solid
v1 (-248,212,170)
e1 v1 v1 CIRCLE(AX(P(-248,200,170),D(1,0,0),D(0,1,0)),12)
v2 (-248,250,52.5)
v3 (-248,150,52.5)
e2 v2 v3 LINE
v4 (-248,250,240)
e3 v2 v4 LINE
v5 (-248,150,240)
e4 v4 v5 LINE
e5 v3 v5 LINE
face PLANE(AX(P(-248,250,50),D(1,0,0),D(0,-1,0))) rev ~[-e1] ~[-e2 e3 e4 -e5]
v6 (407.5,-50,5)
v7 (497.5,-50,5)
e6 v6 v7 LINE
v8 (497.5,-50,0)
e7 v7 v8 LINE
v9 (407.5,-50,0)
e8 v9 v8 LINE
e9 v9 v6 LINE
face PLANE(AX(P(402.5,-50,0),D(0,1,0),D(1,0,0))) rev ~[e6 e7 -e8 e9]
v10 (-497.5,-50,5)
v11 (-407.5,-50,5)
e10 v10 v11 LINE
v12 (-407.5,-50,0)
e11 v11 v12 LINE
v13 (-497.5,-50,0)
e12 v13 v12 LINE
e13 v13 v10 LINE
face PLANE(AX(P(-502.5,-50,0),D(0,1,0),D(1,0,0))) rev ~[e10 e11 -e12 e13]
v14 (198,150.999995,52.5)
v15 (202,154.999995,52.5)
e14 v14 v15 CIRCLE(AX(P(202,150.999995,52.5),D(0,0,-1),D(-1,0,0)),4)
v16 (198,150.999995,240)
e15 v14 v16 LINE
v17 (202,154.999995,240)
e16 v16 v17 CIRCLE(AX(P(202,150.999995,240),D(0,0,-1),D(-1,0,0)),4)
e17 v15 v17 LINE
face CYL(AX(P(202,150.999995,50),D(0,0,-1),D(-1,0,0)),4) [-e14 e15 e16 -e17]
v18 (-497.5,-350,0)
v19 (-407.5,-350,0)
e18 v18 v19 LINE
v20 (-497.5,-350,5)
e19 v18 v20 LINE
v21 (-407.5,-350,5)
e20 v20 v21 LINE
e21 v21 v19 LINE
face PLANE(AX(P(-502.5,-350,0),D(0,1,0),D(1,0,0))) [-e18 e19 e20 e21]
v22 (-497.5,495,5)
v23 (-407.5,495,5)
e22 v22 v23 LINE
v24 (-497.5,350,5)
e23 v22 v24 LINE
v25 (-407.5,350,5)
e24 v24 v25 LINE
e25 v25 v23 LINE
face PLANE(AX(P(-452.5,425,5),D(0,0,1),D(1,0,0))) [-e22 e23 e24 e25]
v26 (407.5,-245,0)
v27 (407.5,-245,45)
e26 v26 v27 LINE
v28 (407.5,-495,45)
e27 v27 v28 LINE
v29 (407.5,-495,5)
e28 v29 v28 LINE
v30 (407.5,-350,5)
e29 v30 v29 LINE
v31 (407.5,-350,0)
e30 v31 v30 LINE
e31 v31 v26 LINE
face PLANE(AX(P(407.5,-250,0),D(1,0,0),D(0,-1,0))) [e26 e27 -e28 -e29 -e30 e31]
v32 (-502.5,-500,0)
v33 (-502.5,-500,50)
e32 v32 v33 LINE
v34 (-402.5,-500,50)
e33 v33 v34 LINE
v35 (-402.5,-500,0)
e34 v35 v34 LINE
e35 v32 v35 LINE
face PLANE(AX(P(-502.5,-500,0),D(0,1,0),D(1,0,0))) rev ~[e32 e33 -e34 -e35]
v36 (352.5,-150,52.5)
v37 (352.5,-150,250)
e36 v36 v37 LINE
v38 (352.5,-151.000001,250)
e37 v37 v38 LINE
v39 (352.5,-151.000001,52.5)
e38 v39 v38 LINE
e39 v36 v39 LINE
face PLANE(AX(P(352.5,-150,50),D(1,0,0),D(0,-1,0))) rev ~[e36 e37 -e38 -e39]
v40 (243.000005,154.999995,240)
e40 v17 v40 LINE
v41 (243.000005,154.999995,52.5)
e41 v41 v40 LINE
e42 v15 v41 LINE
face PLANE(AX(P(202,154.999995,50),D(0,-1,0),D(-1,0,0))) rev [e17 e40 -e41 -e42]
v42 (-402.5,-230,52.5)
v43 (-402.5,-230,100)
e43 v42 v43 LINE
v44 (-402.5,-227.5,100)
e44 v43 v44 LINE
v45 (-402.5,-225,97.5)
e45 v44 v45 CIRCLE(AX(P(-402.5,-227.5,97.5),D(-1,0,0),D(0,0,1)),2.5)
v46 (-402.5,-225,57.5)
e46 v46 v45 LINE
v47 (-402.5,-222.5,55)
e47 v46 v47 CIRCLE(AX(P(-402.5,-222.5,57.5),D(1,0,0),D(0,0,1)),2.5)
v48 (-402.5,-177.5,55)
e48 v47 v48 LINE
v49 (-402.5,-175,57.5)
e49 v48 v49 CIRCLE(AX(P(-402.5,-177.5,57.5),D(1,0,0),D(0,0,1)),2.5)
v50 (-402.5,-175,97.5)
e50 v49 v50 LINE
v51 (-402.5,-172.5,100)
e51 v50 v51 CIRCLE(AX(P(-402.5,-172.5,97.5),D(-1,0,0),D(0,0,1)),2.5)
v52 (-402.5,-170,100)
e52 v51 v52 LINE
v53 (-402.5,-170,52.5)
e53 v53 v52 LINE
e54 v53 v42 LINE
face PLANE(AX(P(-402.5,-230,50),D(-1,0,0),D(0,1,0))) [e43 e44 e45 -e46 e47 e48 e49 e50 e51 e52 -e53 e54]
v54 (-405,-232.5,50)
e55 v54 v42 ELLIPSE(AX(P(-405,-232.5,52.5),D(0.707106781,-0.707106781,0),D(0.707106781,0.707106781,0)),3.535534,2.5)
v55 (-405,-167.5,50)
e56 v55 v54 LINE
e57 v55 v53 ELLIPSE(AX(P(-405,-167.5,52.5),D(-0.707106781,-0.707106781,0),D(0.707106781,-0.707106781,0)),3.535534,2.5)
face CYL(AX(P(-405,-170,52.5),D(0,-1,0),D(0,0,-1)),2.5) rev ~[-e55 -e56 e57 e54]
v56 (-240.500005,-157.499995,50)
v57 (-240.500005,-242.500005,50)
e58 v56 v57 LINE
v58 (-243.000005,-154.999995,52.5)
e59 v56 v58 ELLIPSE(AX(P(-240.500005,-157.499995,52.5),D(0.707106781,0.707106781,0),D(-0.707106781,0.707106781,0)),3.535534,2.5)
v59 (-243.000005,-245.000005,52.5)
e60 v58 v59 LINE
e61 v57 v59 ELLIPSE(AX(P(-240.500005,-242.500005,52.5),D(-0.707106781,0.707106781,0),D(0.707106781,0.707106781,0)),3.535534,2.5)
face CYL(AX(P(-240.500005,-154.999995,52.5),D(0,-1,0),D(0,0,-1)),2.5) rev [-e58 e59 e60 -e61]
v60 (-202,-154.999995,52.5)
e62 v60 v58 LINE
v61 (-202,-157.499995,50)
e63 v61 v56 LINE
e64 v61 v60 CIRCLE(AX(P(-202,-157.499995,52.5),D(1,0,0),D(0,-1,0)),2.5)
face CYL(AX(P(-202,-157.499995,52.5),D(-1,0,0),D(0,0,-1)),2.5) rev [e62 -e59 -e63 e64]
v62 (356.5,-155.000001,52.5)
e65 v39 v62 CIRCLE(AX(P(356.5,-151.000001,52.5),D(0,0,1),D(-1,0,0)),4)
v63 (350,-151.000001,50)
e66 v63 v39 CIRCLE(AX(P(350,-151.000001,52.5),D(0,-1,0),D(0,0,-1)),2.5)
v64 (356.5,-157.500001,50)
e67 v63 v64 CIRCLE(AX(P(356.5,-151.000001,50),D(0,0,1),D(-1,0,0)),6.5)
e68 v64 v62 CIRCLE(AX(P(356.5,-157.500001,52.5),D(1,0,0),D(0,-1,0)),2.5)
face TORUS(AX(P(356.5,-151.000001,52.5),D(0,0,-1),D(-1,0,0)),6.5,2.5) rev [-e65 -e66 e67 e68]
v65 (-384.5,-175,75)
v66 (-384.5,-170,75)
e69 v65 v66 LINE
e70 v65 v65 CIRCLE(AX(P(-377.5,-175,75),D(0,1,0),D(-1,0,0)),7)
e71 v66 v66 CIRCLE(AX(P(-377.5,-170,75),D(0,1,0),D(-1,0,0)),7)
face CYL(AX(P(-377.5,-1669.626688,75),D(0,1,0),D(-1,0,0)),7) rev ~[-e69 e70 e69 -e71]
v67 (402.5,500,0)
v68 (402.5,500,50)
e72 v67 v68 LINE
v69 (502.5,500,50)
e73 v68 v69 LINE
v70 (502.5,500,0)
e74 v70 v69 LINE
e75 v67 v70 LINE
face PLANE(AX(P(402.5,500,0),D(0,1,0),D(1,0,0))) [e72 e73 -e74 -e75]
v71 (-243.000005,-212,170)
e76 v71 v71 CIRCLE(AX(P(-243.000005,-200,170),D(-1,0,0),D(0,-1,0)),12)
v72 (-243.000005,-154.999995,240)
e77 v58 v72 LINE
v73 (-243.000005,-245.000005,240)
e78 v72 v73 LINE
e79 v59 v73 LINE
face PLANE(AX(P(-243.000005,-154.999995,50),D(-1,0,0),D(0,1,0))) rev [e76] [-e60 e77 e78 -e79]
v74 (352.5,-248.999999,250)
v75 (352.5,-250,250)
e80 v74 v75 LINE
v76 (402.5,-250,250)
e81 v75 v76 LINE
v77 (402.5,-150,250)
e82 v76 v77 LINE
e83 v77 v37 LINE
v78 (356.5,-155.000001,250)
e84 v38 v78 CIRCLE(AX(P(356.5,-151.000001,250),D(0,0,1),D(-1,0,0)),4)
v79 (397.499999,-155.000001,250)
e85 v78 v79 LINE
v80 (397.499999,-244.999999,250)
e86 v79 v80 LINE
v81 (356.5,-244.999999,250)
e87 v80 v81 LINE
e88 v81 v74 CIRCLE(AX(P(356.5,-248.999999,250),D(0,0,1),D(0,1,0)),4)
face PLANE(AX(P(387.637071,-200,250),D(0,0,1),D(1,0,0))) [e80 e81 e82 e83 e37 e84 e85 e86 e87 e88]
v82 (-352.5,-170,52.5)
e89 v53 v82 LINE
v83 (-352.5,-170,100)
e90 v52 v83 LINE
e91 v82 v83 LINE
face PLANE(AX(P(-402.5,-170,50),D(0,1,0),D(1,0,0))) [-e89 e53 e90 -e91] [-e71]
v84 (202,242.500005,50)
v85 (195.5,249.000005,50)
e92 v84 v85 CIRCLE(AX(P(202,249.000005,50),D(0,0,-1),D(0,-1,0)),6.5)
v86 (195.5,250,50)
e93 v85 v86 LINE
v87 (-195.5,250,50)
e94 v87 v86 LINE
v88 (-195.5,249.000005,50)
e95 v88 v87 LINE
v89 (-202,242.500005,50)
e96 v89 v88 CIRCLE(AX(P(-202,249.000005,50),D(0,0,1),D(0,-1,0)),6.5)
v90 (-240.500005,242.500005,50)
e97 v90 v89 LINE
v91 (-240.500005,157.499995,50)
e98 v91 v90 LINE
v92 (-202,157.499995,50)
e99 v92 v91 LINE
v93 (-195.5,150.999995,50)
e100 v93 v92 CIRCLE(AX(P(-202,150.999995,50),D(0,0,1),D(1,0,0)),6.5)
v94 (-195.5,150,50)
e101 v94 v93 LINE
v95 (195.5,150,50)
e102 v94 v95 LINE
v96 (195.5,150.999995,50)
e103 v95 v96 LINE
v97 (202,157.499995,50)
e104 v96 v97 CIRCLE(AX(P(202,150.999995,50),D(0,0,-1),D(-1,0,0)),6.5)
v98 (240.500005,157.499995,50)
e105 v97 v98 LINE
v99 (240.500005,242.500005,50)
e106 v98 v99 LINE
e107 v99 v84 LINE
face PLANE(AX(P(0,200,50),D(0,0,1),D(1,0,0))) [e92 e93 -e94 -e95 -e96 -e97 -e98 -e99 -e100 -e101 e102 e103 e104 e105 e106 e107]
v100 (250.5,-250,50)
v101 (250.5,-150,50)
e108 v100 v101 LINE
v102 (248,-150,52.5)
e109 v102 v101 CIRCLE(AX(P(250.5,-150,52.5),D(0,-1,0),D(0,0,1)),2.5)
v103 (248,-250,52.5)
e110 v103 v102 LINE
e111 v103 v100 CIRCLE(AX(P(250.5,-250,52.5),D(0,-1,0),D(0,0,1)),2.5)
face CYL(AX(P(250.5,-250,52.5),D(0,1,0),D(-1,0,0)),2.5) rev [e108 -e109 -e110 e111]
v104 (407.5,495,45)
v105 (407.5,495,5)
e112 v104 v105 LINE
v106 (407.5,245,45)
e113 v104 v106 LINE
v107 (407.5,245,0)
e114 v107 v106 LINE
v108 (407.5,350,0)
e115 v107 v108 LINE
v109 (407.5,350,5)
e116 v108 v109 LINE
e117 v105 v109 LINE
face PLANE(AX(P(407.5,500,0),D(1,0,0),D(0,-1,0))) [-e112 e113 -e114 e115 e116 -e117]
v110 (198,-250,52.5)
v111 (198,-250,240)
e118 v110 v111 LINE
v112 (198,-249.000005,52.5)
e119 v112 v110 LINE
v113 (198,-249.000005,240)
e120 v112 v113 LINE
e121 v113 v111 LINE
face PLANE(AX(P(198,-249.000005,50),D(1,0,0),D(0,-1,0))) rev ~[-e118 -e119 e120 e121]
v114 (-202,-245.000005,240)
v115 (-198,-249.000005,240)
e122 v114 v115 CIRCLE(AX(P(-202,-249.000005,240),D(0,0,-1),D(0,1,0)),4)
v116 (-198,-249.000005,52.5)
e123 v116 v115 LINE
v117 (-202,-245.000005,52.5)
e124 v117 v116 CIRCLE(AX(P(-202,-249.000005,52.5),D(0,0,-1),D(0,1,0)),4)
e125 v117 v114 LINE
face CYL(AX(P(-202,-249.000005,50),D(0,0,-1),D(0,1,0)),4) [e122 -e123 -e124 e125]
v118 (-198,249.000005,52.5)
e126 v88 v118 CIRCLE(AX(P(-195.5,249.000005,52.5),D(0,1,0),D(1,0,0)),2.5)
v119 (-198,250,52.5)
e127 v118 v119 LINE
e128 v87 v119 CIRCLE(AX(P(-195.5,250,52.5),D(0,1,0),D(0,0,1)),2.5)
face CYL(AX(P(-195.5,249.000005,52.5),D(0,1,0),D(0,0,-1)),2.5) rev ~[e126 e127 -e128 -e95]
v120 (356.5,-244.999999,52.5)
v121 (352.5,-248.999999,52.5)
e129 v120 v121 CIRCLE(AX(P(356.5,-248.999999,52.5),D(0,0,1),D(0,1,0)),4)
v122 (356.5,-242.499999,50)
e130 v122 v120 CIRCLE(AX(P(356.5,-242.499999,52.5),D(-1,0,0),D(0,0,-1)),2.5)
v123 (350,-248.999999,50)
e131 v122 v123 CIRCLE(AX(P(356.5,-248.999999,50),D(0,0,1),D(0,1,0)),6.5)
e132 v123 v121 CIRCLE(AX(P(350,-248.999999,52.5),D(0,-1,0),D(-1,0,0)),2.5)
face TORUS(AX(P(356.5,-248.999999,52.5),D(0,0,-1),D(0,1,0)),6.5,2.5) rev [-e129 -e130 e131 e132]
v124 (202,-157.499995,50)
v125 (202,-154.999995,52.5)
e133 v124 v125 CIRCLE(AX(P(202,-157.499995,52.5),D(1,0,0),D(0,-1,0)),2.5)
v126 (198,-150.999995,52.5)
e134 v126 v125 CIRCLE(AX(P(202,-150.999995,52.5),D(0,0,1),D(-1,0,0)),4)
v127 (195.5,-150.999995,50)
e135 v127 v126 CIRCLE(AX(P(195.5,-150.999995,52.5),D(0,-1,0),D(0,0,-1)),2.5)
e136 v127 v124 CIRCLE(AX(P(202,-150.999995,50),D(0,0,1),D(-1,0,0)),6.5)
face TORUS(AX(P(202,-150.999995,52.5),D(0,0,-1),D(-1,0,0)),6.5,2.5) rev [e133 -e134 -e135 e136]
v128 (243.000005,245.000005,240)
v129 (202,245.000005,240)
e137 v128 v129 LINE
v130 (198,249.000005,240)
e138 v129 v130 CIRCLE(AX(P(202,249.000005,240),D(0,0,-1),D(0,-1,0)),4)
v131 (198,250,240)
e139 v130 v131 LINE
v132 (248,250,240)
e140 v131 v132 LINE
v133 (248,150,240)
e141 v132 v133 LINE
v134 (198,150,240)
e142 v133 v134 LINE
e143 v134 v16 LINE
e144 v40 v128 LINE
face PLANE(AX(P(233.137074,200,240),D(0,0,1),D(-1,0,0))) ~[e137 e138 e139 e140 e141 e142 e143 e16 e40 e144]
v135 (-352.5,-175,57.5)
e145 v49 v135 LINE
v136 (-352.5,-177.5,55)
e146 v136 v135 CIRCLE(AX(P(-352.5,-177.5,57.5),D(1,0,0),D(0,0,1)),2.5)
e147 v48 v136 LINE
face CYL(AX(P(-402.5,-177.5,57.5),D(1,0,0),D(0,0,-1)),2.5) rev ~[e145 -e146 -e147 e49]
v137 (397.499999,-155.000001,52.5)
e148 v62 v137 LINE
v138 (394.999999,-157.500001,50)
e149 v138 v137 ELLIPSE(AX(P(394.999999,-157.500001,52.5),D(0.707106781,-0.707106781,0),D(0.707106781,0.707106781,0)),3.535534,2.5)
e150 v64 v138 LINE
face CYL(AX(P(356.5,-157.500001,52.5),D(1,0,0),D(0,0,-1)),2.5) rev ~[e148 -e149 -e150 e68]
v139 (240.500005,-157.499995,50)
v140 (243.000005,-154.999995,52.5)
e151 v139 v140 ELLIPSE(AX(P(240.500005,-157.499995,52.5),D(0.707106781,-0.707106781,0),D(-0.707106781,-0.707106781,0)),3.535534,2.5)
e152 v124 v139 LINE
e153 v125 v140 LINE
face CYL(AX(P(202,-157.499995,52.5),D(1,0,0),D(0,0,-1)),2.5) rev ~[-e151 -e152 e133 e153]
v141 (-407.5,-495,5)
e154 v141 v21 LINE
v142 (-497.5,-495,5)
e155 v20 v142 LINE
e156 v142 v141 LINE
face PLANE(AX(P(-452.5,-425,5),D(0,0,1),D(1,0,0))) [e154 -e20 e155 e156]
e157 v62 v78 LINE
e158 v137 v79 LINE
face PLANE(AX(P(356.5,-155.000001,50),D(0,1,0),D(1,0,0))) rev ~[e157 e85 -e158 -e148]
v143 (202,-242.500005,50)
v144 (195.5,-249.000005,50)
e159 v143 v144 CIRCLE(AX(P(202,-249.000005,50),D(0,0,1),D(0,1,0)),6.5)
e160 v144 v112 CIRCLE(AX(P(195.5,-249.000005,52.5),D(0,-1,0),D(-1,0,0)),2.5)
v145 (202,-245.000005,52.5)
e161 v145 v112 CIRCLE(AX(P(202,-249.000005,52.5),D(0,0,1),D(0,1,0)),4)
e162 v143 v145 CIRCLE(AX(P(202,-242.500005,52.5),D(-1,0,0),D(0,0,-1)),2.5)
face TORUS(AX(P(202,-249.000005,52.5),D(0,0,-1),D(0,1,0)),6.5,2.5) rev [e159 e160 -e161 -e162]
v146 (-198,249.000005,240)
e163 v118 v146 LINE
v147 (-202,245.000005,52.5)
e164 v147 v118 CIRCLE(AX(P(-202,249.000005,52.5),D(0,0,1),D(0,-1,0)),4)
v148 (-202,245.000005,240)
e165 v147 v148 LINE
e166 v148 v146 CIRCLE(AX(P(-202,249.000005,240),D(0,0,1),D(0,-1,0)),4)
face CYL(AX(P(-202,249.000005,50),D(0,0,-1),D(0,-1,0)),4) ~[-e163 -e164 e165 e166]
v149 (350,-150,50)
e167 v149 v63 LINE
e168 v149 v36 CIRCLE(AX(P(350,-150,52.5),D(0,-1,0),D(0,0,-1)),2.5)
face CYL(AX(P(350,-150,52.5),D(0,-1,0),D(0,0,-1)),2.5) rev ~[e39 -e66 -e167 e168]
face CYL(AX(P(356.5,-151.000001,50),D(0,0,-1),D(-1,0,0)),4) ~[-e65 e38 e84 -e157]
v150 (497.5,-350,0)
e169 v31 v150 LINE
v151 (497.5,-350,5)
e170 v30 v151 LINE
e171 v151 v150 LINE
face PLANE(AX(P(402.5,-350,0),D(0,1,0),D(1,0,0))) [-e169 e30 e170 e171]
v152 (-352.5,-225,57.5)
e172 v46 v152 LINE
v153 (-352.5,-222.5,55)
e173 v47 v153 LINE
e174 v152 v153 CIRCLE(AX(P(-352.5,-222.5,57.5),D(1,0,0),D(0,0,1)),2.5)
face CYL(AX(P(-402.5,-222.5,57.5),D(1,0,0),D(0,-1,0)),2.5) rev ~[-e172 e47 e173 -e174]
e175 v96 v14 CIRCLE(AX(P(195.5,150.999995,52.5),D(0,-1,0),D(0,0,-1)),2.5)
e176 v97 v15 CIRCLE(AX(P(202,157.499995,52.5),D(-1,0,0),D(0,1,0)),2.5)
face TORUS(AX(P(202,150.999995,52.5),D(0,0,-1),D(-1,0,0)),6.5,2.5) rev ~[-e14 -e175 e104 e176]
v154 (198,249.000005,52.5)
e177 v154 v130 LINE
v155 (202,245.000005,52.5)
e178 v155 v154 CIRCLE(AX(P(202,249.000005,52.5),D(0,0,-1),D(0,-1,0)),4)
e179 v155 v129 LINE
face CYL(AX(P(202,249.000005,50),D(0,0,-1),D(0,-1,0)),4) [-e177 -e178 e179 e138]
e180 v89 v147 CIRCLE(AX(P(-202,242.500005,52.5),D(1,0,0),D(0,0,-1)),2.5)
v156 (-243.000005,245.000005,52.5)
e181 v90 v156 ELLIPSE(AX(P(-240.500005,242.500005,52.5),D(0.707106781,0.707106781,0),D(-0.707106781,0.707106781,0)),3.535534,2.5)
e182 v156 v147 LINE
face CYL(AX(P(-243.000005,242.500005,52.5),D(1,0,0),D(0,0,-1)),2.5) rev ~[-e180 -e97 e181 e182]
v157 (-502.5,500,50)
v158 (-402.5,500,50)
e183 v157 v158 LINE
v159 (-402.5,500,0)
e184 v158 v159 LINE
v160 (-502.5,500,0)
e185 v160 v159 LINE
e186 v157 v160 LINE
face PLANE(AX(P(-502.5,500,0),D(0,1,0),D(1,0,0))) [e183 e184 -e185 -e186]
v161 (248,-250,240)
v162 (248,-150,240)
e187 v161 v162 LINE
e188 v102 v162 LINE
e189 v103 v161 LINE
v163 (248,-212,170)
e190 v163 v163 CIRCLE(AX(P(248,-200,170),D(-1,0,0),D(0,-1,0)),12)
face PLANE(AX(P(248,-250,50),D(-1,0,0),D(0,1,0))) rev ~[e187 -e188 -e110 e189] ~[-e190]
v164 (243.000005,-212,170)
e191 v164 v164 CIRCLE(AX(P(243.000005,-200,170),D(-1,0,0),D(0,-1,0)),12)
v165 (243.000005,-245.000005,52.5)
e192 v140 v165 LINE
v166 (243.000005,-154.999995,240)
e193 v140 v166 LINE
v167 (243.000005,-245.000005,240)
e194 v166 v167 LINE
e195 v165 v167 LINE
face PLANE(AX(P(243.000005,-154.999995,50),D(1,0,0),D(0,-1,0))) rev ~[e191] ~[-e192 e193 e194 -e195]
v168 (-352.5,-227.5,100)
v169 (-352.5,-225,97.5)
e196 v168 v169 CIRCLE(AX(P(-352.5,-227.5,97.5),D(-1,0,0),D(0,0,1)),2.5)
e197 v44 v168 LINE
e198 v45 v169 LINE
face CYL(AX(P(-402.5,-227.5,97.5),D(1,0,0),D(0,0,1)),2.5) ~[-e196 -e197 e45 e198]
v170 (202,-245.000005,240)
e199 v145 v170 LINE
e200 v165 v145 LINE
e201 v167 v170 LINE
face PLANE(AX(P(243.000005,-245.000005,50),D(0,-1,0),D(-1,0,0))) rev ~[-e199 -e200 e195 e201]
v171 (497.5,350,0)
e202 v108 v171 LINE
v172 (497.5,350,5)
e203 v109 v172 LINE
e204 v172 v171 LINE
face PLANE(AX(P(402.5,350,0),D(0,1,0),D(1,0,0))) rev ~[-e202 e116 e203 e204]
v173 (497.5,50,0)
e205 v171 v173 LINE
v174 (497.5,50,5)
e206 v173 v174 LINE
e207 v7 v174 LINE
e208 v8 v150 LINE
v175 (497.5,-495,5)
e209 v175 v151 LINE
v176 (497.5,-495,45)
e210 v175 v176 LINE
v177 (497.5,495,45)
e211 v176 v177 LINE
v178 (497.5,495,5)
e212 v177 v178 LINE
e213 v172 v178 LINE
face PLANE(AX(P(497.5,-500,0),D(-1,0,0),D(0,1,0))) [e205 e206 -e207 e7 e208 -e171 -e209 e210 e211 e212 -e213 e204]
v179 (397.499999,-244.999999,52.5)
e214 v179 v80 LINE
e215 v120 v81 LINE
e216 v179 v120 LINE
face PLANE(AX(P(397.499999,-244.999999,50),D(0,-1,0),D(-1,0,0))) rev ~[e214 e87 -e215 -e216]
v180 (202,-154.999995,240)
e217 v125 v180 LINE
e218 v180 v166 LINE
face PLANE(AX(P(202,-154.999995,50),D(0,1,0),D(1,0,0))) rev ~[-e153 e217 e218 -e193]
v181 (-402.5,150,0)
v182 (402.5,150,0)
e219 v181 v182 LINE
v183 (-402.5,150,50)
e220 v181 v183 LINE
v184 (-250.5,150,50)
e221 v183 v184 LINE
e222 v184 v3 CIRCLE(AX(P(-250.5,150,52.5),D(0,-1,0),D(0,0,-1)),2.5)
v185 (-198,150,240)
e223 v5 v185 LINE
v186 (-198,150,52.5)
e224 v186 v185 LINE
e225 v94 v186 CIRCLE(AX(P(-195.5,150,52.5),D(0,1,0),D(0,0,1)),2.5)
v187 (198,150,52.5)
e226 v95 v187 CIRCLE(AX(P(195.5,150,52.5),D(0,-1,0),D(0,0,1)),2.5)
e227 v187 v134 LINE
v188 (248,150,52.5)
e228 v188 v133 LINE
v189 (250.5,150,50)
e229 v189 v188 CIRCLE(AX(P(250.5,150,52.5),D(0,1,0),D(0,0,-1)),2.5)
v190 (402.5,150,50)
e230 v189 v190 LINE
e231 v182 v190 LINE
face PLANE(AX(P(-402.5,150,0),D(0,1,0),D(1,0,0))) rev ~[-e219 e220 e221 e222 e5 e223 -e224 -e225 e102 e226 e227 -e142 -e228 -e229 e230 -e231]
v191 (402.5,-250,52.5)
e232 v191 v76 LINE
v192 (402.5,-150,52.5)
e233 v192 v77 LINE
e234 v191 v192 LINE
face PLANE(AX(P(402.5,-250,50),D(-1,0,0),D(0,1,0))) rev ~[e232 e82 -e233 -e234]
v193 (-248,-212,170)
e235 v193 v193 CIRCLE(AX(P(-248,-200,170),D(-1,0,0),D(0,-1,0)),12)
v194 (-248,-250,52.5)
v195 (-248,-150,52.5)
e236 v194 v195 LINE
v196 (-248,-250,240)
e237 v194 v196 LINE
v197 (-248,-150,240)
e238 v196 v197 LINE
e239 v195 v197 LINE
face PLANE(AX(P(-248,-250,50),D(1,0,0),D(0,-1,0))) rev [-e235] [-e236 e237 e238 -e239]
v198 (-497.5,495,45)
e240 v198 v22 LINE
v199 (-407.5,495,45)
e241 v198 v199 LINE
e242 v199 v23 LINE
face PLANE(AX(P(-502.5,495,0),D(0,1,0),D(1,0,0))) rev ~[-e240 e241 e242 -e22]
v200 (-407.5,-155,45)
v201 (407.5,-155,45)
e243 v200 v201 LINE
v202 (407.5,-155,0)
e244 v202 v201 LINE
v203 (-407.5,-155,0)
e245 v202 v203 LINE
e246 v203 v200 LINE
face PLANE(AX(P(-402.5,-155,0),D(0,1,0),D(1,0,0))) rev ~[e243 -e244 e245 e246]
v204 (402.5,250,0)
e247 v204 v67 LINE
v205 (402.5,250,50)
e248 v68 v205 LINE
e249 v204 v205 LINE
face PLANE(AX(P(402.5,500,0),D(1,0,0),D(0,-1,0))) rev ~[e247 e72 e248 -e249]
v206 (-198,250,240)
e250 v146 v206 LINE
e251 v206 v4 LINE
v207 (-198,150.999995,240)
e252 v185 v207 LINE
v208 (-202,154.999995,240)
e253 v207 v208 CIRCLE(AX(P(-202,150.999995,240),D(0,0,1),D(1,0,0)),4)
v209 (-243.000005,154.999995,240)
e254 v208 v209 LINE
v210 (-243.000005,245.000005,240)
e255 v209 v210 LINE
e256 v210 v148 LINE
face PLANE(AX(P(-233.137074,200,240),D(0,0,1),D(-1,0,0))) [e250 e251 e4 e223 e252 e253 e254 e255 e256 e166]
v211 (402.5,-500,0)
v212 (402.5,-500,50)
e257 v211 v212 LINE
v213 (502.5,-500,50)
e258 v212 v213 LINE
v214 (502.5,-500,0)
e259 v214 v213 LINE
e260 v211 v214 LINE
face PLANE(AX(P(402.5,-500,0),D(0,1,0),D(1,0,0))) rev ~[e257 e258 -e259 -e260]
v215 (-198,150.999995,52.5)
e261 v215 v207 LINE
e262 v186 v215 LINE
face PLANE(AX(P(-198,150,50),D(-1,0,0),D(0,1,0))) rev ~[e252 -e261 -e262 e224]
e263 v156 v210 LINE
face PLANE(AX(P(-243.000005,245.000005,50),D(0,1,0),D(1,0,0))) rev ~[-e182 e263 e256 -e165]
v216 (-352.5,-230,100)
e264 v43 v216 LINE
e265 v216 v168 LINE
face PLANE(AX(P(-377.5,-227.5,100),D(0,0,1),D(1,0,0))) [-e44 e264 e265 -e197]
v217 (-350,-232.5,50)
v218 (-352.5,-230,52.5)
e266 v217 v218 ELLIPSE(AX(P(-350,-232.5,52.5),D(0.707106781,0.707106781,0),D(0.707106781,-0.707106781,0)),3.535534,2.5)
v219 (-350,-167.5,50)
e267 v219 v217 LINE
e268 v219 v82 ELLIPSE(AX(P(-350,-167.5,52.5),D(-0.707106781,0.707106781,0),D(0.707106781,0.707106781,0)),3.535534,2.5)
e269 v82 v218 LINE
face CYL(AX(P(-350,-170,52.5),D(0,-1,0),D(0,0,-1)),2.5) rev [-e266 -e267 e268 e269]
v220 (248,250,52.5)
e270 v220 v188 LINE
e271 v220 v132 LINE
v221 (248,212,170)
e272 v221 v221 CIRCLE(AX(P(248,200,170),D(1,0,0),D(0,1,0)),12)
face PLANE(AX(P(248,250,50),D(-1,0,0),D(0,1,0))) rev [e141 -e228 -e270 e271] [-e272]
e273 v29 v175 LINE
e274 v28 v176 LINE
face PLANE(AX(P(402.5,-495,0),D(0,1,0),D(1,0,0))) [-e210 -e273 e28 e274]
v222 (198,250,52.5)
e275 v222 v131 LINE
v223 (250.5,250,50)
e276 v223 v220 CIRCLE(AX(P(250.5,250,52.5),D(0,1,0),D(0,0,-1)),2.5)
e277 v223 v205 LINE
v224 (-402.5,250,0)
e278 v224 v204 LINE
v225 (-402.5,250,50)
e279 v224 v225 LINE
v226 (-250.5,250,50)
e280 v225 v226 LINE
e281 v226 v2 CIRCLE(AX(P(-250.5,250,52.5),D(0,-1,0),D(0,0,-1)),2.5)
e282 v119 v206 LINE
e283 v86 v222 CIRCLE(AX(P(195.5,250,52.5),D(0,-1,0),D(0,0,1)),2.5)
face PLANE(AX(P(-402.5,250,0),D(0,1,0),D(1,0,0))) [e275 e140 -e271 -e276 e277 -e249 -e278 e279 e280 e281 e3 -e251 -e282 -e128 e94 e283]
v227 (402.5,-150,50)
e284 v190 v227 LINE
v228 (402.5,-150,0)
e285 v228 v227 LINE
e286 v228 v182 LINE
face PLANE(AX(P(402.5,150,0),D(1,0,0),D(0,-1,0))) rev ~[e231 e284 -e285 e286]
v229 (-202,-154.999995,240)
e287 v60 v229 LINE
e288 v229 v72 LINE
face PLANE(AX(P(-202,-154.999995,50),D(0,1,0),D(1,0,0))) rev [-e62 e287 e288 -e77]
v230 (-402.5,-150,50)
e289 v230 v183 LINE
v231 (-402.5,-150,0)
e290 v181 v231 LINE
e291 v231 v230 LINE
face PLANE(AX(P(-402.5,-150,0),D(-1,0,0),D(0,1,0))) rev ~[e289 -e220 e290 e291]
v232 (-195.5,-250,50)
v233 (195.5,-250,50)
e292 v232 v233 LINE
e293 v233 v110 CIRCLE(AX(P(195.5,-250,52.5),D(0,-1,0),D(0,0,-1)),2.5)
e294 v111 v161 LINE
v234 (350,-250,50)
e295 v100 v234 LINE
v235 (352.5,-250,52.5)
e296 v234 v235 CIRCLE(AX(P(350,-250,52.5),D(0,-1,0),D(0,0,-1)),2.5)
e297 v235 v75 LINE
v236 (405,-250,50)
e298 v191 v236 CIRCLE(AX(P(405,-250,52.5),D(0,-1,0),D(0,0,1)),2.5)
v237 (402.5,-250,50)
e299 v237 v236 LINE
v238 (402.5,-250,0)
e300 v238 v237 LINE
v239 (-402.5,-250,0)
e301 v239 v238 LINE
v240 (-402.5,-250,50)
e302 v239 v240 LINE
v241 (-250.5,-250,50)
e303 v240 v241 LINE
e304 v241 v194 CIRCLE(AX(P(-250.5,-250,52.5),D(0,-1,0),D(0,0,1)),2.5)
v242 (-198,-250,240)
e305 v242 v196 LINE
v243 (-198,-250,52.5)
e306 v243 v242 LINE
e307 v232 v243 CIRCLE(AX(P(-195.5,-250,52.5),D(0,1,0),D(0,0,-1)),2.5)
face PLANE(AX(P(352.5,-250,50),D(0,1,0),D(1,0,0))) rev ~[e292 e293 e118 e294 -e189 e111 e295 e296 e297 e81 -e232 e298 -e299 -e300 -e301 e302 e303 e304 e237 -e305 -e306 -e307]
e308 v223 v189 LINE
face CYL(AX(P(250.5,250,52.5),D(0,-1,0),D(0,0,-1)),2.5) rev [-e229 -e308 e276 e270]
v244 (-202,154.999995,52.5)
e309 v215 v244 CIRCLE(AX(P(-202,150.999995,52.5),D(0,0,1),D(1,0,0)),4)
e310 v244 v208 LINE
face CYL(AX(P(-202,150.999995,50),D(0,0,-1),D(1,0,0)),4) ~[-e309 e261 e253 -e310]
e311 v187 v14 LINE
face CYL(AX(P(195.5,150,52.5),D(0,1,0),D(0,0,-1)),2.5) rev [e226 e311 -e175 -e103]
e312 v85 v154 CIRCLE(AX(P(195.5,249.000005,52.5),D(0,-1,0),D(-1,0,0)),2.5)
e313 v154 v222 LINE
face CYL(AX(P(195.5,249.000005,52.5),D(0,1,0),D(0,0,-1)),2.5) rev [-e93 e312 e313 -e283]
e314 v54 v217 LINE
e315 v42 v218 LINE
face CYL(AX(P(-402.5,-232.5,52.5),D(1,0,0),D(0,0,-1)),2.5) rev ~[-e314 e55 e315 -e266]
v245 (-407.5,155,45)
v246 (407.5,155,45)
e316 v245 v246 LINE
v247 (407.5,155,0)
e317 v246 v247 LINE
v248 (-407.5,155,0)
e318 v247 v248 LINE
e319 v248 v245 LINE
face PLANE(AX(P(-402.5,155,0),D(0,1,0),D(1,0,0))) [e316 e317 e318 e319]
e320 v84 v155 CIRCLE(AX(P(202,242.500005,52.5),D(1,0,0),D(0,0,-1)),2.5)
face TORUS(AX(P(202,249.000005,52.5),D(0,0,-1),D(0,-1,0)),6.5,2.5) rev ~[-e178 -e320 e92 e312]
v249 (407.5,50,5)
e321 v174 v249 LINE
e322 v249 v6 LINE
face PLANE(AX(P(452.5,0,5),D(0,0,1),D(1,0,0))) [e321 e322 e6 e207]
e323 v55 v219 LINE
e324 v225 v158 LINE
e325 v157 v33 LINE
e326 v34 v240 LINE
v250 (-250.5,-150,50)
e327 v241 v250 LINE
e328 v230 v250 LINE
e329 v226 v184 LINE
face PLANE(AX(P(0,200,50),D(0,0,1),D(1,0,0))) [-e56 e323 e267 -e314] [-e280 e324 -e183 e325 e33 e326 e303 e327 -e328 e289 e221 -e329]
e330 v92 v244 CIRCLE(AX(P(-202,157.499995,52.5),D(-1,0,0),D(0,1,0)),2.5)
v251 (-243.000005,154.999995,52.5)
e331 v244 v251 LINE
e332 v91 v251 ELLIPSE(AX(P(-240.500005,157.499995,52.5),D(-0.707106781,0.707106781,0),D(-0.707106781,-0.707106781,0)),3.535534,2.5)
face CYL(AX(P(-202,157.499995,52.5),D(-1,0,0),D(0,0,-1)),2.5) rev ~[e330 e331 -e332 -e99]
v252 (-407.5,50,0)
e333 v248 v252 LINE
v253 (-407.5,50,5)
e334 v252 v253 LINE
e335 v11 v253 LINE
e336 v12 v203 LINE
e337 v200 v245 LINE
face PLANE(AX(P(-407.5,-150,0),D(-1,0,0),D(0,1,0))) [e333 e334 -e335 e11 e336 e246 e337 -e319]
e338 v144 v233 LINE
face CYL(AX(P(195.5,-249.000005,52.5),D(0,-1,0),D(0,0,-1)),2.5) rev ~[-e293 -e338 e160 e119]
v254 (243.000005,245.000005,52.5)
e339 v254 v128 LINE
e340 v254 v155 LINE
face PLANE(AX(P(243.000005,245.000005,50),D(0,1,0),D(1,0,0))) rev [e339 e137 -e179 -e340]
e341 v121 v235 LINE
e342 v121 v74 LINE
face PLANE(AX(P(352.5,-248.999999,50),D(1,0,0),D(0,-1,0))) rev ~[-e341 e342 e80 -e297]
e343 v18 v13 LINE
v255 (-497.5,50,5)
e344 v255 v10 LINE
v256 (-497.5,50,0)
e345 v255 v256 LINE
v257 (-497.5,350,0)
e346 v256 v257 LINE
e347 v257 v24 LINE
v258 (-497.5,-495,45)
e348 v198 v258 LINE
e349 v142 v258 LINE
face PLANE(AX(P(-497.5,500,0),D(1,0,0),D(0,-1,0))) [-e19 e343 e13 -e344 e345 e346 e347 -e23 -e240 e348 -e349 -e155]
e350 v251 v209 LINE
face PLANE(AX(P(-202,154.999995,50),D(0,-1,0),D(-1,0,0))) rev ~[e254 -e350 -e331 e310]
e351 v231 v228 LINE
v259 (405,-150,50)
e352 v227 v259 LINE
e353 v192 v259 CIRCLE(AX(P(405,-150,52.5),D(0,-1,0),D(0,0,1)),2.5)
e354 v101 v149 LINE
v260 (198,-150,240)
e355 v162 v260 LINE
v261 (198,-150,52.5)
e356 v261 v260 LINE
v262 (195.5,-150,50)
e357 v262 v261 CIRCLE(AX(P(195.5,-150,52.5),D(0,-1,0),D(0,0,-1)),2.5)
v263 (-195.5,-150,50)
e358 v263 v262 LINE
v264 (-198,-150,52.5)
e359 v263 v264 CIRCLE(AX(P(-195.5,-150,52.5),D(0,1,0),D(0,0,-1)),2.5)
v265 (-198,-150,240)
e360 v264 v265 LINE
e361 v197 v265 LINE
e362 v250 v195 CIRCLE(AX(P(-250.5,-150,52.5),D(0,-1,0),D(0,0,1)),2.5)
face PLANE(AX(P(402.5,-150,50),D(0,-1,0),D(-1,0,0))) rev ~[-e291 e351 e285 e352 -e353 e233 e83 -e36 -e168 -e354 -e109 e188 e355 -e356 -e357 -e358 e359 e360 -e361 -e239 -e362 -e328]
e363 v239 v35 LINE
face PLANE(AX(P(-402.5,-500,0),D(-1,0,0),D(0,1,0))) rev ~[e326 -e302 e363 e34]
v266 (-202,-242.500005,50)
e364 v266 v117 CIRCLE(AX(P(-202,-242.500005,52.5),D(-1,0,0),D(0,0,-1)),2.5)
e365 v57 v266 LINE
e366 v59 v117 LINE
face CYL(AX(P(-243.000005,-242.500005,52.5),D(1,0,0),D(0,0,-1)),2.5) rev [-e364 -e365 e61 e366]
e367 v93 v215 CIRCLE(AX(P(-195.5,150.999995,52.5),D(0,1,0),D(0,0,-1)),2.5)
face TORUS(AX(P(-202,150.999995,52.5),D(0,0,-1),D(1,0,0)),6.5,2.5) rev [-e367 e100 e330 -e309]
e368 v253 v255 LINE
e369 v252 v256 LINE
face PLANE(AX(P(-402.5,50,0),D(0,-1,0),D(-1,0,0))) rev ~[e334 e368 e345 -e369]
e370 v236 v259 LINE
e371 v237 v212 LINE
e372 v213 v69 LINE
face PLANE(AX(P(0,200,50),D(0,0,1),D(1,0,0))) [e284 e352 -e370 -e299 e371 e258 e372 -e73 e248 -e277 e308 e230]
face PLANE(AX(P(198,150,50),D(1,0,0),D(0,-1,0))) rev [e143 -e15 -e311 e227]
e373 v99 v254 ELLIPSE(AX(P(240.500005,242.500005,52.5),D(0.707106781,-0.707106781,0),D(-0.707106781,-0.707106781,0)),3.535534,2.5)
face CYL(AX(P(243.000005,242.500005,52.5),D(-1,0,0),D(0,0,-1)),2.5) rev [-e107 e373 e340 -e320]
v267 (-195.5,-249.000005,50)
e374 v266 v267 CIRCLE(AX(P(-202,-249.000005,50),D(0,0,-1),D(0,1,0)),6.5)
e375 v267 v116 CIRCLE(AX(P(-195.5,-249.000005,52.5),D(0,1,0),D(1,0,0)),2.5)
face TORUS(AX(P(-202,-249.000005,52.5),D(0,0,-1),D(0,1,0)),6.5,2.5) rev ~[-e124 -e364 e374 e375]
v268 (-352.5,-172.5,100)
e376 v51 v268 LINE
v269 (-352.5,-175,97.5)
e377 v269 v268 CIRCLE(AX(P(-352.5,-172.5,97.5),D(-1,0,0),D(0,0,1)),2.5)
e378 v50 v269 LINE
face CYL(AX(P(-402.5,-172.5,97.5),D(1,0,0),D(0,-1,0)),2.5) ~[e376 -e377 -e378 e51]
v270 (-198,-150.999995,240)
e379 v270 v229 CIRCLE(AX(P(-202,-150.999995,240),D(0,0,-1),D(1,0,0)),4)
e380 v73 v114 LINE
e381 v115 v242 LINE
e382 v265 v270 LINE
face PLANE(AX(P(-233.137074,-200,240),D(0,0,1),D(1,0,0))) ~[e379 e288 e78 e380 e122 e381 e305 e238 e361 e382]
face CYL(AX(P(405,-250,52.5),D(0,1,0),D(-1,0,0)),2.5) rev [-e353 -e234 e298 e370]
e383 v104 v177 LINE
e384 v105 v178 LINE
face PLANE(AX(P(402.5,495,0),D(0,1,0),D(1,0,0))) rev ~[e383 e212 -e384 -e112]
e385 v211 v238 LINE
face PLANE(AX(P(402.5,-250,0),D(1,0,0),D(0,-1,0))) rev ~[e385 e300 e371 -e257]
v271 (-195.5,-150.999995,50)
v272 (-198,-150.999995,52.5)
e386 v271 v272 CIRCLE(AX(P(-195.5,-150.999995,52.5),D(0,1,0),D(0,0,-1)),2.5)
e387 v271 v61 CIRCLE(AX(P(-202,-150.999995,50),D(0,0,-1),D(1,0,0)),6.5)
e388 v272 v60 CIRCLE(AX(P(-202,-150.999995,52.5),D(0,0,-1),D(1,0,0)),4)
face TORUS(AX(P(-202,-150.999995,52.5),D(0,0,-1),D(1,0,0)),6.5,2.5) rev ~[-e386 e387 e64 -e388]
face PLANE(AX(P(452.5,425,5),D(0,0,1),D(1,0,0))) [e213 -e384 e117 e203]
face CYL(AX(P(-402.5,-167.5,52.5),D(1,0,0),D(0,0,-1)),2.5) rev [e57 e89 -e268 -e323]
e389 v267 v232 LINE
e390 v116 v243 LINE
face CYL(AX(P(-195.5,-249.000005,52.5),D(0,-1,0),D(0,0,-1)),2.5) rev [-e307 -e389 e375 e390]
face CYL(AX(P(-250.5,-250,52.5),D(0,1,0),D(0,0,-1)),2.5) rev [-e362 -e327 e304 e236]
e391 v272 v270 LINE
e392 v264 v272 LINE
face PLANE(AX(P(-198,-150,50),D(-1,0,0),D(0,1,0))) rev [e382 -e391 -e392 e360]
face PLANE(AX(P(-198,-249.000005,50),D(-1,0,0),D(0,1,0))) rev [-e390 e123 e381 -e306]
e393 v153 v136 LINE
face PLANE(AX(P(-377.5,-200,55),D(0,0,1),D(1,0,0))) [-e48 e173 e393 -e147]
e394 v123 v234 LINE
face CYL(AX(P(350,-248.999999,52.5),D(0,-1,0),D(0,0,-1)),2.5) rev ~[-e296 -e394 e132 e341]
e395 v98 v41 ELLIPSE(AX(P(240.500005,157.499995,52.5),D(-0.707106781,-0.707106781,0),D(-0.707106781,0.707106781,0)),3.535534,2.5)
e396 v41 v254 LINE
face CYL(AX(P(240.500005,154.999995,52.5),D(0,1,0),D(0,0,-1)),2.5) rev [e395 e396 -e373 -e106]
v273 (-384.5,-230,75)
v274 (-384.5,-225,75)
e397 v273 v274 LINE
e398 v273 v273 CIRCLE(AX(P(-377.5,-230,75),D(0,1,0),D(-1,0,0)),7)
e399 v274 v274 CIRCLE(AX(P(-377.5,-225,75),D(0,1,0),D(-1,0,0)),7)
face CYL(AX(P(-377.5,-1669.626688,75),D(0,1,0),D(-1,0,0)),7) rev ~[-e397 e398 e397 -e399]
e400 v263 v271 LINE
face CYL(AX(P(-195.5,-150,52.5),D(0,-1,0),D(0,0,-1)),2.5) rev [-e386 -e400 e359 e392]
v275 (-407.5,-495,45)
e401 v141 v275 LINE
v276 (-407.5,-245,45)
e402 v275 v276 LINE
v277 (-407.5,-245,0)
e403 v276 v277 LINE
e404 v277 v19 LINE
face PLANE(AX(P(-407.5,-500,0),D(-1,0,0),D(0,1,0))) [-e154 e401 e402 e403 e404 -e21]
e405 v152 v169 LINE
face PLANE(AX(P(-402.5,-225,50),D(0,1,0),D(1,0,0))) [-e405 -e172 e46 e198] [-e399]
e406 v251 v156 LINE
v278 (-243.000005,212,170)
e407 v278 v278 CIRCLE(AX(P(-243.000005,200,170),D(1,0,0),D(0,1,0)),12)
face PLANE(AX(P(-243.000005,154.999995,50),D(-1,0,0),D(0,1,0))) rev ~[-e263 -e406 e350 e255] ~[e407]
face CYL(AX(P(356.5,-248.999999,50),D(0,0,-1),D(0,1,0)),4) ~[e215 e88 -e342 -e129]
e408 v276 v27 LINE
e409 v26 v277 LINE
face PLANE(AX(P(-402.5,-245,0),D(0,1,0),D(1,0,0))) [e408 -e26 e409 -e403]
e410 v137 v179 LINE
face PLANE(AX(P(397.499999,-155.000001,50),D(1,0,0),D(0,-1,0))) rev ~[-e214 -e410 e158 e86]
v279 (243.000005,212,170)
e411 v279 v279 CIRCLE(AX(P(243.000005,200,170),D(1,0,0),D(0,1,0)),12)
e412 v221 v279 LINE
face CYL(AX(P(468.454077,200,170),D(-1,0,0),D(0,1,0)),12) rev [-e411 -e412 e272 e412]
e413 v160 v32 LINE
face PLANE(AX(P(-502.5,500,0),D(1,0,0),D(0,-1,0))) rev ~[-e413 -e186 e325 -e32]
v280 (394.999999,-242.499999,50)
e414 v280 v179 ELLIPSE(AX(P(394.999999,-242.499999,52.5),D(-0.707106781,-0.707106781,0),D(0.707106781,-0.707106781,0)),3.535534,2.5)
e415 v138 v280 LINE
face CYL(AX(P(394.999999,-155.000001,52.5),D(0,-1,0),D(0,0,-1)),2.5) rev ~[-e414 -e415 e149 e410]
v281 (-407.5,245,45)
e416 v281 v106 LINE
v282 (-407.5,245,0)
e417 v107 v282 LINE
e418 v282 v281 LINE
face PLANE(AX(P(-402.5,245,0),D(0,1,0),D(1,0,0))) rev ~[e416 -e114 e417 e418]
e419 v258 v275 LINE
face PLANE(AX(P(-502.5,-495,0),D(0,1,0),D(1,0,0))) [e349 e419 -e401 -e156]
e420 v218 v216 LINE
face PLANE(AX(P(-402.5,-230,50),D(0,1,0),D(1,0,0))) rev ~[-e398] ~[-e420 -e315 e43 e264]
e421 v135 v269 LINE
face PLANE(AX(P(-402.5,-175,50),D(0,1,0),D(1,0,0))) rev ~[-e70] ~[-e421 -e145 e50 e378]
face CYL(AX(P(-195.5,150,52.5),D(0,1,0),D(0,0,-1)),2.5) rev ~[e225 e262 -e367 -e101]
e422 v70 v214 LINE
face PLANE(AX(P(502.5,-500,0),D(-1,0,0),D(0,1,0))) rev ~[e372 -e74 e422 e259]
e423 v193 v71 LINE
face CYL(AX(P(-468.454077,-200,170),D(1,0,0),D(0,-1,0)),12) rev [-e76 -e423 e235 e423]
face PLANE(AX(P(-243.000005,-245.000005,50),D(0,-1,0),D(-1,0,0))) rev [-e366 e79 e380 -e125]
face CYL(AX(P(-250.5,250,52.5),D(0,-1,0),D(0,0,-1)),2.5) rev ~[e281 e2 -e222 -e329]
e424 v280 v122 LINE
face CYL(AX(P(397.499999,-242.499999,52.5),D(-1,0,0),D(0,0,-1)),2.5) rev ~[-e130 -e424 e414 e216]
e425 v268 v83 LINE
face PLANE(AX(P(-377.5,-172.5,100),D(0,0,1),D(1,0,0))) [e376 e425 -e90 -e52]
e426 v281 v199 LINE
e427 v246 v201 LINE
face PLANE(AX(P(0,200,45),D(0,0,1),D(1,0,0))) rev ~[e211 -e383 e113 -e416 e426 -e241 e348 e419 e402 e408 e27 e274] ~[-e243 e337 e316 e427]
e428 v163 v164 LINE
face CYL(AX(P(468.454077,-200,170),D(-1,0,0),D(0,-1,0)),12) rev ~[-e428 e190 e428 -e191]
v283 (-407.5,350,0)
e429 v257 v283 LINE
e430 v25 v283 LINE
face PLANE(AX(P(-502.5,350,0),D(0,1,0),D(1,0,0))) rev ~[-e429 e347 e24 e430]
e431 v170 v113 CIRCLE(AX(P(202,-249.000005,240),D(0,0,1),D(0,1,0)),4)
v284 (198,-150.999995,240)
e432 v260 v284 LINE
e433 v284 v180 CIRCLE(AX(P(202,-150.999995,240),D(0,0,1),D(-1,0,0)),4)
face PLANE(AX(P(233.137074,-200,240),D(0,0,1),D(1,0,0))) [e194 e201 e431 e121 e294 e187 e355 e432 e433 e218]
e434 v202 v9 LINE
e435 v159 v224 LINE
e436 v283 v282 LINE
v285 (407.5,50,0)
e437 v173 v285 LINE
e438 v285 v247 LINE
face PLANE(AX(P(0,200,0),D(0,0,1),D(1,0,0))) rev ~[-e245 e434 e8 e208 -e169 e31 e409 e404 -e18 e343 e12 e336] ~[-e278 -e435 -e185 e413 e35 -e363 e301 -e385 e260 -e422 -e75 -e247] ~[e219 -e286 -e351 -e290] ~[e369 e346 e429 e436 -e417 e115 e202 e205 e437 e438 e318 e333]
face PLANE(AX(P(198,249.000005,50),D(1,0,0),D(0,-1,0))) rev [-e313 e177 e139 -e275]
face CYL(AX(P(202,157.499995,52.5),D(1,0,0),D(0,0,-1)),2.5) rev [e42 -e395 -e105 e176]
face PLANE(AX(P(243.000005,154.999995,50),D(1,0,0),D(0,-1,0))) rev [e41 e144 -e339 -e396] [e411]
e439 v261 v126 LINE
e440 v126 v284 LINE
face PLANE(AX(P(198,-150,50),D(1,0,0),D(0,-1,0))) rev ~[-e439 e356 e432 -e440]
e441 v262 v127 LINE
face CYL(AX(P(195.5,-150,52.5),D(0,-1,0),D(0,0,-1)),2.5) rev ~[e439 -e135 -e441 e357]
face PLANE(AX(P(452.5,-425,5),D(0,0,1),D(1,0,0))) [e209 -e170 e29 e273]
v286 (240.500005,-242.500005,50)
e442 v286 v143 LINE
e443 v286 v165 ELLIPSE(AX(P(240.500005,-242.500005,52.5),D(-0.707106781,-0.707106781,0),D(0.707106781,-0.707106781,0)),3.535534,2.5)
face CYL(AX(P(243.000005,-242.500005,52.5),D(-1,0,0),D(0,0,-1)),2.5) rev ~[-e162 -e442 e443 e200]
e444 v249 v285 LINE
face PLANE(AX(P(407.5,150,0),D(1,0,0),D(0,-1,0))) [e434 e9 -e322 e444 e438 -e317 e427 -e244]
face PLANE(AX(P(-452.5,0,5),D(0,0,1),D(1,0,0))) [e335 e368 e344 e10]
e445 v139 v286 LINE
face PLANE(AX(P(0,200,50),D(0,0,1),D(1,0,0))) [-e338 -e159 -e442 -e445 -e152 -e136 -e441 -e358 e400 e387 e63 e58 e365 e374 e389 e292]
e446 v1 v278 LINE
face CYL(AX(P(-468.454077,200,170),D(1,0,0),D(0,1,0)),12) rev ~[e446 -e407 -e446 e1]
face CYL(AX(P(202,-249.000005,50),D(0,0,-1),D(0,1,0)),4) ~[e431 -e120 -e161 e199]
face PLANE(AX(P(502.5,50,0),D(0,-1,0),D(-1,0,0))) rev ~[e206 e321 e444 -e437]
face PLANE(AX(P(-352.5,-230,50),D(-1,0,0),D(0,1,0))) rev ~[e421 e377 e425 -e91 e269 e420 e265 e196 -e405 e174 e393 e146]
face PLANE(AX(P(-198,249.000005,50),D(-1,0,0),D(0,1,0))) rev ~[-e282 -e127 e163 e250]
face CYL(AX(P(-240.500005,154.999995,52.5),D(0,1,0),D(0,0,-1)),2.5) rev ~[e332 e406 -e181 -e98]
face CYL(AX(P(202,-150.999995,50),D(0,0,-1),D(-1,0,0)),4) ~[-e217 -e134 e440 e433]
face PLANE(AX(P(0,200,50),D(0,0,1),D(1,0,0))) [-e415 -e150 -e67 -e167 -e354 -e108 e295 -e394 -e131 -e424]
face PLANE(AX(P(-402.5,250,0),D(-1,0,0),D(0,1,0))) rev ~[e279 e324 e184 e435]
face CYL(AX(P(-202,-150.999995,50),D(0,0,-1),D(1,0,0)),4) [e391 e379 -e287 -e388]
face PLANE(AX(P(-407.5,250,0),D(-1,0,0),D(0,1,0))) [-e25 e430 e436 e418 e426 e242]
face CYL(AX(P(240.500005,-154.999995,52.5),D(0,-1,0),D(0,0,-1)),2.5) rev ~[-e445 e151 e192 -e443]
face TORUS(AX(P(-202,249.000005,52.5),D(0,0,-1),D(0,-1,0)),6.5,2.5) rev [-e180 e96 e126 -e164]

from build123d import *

# Parameters (mm, degrees)
F0_W      = 805
F0_H      = 100
F0_W_2    = 100
F0_H_2    = 150
F1_DEPTH  = 50
F2_T      = -5
F3_DEPTH  = 5
F5_DEPTH  = 190
F7_D      = 24
F11_W     = 50
F11_H     = 50
F12_DEPTH = 5
F11_H_2   = 5
F13_DEPTH = 50
F14_DEPTH = 200
F16_D     = 14
F17_R     = 2.5


with BuildPart() as f1:
    # F0 (on Top) → F1 (new body)
    with BuildSketch(Plane.XY):
        with Locations((0, 200)):
            Rectangle(F0_W, F0_H)
        Polygon((-402.5, 50), (-402.5, 150), (-402.5, 250), (-402.5, 350), (-502.5, 350), (-502.5, 50), align=None)
        Polygon((402.5, 250), (402.5, 150), (402.5, 50), (502.5, 50), (502.5, 350), (402.5, 350), align=None)
        Polygon((-402.5, 0), (-402.5, 50), (-502.5, 50), (-502.5, 0), (-502.5, -50), (-402.5, -50), align=None)
        Polygon((502.5, 50), (402.5, 50), (402.5, 0), (402.5, -50), (502.5, -50), (502.5, 0), align=None)
        with Locations((-452.5, 425)):
            Rectangle(F0_W_2, F0_H_2)
        with Locations((452.5, 425)):
            Rectangle(F0_W_2, F0_H_2)
        Polygon((-402.5, -150), (-402.5, -50), (-502.5, -50), (-502.5, -350), (-402.5, -350), (-402.5, -250), align=None)
        Polygon((502.5, -50), (402.5, -50), (402.5, -150), (402.5, -250), (402.5, -350), (502.5, -350), align=None)
        with Locations((0, -200)):
            Rectangle(F0_W, F0_H)
        with Locations((-452.5, -425)):
            Rectangle(F0_W_2, F0_H_2)
        with Locations((452.5, -425)):
            Rectangle(F0_W_2, F0_H_2)
    extrude(amount=F1_DEPTH)

    # F2
    f2_openings = [f1.faces().sort_by_distance(p)[0] for p in [
        (0, 164.177535, 0),
    ]]
    offset(amount=F2_T, openings=f2_openings, kind=Kind.INTERSECTION)

    # F0 (on Top) → F3 (join)
    with BuildSketch(Plane.XY):
        with Locations((-452.5, -425)):
            Rectangle(F0_W_2, F0_H_2)
        Polygon((-402.5, 0), (-402.5, 50), (-502.5, 50), (-502.5, 0), (-502.5, -50), (-402.5, -50), align=None)
        with Locations((-452.5, 425)):
            Rectangle(F0_W_2, F0_H_2)
        with Locations((452.5, -425)):
            Rectangle(F0_W_2, F0_H_2)
        Polygon((502.5, 50), (402.5, 50), (402.5, 0), (402.5, -50), (502.5, -50), (502.5, 0), align=None)
        with Locations((452.5, 425)):
            Rectangle(F0_W_2, F0_H_2)
    extrude(amount=F3_DEPTH)


with BuildPart() as f5:
    # F4 (on face) → F5 (new body)
    with BuildSketch(Plane.XY.offset(50)):
        with BuildLine():
            Line((198, -250), (248, -250))
            Line((248, -250), (248, -150))
            Line((248, -150), (198, -150))
            Line((198, -150), (198, -150.9999952316))
            ThreePointArc((198, -150.9999952316), (199.1715728753, -153.8284223564), (202, -154.9999952316))
            Line((202, -154.9999952316), (243.0000047684, -154.9999952316))
            Line((243.0000047684, -154.9999952316), (243.0000047684, -245.0000047684))
            Line((243.0000047684, -245.0000047684), (202, -245.0000047684))
            ThreePointArc((202, -245.0000047684), (199.1715728753, -246.1715776436), (198, -249.0000047684))
            Line((198, -249.0000047684), (198, -250))
        make_face()
    extrude(amount=F5_DEPTH)

    # F7 (through all)
    with Locations(Plane.YZ.offset(248)):
        with Locations((-200, 170)):
            Hole(F7_D / 2)


with BuildPart() as f8_1:
    # F8: instance of F5
    add(f5.part.mirror(Plane.YZ))


with BuildPart() as f9_1:
    # F9: instance of F5
    add(f5.part.mirror(Plane.XZ))


with BuildPart() as f9_2:
    # F9: instance of F8_1
    add(f8_1.part.mirror(Plane.XZ))


with BuildPart() as f8_1_1:
    add(f8_1.part)

    # F10: union F9_2, F5, F9_1, F1
    add(f9_2.part)
    add(f5.part)
    add(f9_1.part)
    add(f1.part)

    # F11 (on face) → F12 (join)
    with BuildSketch(Plane.XY.offset(50)):
        with Locations((-377.5, -200)):
            Rectangle(F11_W, F11_H)
    extrude(amount=F12_DEPTH)

    # F11 (on face) → F13 (join)
    with BuildSketch(Plane.XY.offset(50)):
        with Locations((-377.5, -227.5)):
            Rectangle(F11_W, F11_H_2)
        with Locations((-377.5, -172.5)):
            Rectangle(F11_W, F11_H_2)
    extrude(amount=F13_DEPTH)

    # F11 (on face) → F14 (join)
    with BuildSketch(Plane.XY.offset(50)):
        with BuildLine():
            Line((402.5, -250), (402.5, -150))
            Line((402.5, -150), (352.5, -150))
            Line((352.5, -150), (352.5, -151.0000011921))
            ThreePointArc((352.5, -151.0000011921), (353.6715728753, -153.8284283168), (356.5, -155.0000011921))
            Line((356.5, -155.0000011921), (397.4999988079, -155.0000011921))
            Line((397.4999988079, -155.0000011921), (397.4999988079, -244.9999988079))
            Line((397.4999988079, -244.9999988079), (356.5, -244.9999988079))
            ThreePointArc((356.5, -244.9999988079), (353.6715728753, -246.1715716832), (352.5, -248.9999988079))
            Line((352.5, -248.9999988079), (352.5, -250))
            Line((352.5, -250), (402.5, -250))
        make_face()
    extrude(amount=F14_DEPTH)

    # F16 (through all)
    with Locations(Plane.XZ.offset(230)):
        with Locations((-377.5, 75)):
            Hole(F16_D / 2)

    # F17
    f17_edges = [f8_1_1.edges().sort_by_distance(p)[0] for p in [
        (-377.5, -175, 55),
        (-377.5, -225, 55),
        (-377.5, -225, 100),
        (-377.5, -175, 100),
        (-377.5, -230, 50),
        (-402.5, -200, 50),
        (-377.5, -170, 50),
        (-352.5, -200, 50),
        (-248, -200, 50),
        (-248, 200, 50),
        (243.000005, -200, 50),
        (222.500002, -154.999995, 50),
        (199.171573, -153.828422, 50),
        (222.500002, -245.000005, 50),
        (199.171573, -246.171578, 50),
        (222.500002, 245.000005, 50),
        (199.171573, 246.171578, 50),
        (243.000005, 200, 50),
        (222.500002, 154.999995, 50),
        (199.171573, 153.828422, 50),
        (248, 200, 50),
        (248, -200, 50),
        (376.999999, -155.000001, 50),
        (353.671573, -153.828428, 50),
        (397.499999, -200, 50),
        (376.999999, -244.999999, 50),
        (353.671573, -246.171572, 50),
        (402.5, -200, 50),
        (-222.500002, 154.999995, 50),
        (-199.171573, 153.828422, 50),
        (-243.000005, 200, 50),
        (-222.500002, 245.000005, 50),
        (-199.171573, 246.171578, 50),
        (-222.500002, -154.999995, 50),
        (-199.171573, -153.828422, 50),
        (-222.500002, -245.000005, 50),
        (-199.171573, -246.171578, 50),
        (-243.000005, -200, 50),
    ]]
    fillet(f17_edges, radius=F17_R)


solid = f8_1_1.part
